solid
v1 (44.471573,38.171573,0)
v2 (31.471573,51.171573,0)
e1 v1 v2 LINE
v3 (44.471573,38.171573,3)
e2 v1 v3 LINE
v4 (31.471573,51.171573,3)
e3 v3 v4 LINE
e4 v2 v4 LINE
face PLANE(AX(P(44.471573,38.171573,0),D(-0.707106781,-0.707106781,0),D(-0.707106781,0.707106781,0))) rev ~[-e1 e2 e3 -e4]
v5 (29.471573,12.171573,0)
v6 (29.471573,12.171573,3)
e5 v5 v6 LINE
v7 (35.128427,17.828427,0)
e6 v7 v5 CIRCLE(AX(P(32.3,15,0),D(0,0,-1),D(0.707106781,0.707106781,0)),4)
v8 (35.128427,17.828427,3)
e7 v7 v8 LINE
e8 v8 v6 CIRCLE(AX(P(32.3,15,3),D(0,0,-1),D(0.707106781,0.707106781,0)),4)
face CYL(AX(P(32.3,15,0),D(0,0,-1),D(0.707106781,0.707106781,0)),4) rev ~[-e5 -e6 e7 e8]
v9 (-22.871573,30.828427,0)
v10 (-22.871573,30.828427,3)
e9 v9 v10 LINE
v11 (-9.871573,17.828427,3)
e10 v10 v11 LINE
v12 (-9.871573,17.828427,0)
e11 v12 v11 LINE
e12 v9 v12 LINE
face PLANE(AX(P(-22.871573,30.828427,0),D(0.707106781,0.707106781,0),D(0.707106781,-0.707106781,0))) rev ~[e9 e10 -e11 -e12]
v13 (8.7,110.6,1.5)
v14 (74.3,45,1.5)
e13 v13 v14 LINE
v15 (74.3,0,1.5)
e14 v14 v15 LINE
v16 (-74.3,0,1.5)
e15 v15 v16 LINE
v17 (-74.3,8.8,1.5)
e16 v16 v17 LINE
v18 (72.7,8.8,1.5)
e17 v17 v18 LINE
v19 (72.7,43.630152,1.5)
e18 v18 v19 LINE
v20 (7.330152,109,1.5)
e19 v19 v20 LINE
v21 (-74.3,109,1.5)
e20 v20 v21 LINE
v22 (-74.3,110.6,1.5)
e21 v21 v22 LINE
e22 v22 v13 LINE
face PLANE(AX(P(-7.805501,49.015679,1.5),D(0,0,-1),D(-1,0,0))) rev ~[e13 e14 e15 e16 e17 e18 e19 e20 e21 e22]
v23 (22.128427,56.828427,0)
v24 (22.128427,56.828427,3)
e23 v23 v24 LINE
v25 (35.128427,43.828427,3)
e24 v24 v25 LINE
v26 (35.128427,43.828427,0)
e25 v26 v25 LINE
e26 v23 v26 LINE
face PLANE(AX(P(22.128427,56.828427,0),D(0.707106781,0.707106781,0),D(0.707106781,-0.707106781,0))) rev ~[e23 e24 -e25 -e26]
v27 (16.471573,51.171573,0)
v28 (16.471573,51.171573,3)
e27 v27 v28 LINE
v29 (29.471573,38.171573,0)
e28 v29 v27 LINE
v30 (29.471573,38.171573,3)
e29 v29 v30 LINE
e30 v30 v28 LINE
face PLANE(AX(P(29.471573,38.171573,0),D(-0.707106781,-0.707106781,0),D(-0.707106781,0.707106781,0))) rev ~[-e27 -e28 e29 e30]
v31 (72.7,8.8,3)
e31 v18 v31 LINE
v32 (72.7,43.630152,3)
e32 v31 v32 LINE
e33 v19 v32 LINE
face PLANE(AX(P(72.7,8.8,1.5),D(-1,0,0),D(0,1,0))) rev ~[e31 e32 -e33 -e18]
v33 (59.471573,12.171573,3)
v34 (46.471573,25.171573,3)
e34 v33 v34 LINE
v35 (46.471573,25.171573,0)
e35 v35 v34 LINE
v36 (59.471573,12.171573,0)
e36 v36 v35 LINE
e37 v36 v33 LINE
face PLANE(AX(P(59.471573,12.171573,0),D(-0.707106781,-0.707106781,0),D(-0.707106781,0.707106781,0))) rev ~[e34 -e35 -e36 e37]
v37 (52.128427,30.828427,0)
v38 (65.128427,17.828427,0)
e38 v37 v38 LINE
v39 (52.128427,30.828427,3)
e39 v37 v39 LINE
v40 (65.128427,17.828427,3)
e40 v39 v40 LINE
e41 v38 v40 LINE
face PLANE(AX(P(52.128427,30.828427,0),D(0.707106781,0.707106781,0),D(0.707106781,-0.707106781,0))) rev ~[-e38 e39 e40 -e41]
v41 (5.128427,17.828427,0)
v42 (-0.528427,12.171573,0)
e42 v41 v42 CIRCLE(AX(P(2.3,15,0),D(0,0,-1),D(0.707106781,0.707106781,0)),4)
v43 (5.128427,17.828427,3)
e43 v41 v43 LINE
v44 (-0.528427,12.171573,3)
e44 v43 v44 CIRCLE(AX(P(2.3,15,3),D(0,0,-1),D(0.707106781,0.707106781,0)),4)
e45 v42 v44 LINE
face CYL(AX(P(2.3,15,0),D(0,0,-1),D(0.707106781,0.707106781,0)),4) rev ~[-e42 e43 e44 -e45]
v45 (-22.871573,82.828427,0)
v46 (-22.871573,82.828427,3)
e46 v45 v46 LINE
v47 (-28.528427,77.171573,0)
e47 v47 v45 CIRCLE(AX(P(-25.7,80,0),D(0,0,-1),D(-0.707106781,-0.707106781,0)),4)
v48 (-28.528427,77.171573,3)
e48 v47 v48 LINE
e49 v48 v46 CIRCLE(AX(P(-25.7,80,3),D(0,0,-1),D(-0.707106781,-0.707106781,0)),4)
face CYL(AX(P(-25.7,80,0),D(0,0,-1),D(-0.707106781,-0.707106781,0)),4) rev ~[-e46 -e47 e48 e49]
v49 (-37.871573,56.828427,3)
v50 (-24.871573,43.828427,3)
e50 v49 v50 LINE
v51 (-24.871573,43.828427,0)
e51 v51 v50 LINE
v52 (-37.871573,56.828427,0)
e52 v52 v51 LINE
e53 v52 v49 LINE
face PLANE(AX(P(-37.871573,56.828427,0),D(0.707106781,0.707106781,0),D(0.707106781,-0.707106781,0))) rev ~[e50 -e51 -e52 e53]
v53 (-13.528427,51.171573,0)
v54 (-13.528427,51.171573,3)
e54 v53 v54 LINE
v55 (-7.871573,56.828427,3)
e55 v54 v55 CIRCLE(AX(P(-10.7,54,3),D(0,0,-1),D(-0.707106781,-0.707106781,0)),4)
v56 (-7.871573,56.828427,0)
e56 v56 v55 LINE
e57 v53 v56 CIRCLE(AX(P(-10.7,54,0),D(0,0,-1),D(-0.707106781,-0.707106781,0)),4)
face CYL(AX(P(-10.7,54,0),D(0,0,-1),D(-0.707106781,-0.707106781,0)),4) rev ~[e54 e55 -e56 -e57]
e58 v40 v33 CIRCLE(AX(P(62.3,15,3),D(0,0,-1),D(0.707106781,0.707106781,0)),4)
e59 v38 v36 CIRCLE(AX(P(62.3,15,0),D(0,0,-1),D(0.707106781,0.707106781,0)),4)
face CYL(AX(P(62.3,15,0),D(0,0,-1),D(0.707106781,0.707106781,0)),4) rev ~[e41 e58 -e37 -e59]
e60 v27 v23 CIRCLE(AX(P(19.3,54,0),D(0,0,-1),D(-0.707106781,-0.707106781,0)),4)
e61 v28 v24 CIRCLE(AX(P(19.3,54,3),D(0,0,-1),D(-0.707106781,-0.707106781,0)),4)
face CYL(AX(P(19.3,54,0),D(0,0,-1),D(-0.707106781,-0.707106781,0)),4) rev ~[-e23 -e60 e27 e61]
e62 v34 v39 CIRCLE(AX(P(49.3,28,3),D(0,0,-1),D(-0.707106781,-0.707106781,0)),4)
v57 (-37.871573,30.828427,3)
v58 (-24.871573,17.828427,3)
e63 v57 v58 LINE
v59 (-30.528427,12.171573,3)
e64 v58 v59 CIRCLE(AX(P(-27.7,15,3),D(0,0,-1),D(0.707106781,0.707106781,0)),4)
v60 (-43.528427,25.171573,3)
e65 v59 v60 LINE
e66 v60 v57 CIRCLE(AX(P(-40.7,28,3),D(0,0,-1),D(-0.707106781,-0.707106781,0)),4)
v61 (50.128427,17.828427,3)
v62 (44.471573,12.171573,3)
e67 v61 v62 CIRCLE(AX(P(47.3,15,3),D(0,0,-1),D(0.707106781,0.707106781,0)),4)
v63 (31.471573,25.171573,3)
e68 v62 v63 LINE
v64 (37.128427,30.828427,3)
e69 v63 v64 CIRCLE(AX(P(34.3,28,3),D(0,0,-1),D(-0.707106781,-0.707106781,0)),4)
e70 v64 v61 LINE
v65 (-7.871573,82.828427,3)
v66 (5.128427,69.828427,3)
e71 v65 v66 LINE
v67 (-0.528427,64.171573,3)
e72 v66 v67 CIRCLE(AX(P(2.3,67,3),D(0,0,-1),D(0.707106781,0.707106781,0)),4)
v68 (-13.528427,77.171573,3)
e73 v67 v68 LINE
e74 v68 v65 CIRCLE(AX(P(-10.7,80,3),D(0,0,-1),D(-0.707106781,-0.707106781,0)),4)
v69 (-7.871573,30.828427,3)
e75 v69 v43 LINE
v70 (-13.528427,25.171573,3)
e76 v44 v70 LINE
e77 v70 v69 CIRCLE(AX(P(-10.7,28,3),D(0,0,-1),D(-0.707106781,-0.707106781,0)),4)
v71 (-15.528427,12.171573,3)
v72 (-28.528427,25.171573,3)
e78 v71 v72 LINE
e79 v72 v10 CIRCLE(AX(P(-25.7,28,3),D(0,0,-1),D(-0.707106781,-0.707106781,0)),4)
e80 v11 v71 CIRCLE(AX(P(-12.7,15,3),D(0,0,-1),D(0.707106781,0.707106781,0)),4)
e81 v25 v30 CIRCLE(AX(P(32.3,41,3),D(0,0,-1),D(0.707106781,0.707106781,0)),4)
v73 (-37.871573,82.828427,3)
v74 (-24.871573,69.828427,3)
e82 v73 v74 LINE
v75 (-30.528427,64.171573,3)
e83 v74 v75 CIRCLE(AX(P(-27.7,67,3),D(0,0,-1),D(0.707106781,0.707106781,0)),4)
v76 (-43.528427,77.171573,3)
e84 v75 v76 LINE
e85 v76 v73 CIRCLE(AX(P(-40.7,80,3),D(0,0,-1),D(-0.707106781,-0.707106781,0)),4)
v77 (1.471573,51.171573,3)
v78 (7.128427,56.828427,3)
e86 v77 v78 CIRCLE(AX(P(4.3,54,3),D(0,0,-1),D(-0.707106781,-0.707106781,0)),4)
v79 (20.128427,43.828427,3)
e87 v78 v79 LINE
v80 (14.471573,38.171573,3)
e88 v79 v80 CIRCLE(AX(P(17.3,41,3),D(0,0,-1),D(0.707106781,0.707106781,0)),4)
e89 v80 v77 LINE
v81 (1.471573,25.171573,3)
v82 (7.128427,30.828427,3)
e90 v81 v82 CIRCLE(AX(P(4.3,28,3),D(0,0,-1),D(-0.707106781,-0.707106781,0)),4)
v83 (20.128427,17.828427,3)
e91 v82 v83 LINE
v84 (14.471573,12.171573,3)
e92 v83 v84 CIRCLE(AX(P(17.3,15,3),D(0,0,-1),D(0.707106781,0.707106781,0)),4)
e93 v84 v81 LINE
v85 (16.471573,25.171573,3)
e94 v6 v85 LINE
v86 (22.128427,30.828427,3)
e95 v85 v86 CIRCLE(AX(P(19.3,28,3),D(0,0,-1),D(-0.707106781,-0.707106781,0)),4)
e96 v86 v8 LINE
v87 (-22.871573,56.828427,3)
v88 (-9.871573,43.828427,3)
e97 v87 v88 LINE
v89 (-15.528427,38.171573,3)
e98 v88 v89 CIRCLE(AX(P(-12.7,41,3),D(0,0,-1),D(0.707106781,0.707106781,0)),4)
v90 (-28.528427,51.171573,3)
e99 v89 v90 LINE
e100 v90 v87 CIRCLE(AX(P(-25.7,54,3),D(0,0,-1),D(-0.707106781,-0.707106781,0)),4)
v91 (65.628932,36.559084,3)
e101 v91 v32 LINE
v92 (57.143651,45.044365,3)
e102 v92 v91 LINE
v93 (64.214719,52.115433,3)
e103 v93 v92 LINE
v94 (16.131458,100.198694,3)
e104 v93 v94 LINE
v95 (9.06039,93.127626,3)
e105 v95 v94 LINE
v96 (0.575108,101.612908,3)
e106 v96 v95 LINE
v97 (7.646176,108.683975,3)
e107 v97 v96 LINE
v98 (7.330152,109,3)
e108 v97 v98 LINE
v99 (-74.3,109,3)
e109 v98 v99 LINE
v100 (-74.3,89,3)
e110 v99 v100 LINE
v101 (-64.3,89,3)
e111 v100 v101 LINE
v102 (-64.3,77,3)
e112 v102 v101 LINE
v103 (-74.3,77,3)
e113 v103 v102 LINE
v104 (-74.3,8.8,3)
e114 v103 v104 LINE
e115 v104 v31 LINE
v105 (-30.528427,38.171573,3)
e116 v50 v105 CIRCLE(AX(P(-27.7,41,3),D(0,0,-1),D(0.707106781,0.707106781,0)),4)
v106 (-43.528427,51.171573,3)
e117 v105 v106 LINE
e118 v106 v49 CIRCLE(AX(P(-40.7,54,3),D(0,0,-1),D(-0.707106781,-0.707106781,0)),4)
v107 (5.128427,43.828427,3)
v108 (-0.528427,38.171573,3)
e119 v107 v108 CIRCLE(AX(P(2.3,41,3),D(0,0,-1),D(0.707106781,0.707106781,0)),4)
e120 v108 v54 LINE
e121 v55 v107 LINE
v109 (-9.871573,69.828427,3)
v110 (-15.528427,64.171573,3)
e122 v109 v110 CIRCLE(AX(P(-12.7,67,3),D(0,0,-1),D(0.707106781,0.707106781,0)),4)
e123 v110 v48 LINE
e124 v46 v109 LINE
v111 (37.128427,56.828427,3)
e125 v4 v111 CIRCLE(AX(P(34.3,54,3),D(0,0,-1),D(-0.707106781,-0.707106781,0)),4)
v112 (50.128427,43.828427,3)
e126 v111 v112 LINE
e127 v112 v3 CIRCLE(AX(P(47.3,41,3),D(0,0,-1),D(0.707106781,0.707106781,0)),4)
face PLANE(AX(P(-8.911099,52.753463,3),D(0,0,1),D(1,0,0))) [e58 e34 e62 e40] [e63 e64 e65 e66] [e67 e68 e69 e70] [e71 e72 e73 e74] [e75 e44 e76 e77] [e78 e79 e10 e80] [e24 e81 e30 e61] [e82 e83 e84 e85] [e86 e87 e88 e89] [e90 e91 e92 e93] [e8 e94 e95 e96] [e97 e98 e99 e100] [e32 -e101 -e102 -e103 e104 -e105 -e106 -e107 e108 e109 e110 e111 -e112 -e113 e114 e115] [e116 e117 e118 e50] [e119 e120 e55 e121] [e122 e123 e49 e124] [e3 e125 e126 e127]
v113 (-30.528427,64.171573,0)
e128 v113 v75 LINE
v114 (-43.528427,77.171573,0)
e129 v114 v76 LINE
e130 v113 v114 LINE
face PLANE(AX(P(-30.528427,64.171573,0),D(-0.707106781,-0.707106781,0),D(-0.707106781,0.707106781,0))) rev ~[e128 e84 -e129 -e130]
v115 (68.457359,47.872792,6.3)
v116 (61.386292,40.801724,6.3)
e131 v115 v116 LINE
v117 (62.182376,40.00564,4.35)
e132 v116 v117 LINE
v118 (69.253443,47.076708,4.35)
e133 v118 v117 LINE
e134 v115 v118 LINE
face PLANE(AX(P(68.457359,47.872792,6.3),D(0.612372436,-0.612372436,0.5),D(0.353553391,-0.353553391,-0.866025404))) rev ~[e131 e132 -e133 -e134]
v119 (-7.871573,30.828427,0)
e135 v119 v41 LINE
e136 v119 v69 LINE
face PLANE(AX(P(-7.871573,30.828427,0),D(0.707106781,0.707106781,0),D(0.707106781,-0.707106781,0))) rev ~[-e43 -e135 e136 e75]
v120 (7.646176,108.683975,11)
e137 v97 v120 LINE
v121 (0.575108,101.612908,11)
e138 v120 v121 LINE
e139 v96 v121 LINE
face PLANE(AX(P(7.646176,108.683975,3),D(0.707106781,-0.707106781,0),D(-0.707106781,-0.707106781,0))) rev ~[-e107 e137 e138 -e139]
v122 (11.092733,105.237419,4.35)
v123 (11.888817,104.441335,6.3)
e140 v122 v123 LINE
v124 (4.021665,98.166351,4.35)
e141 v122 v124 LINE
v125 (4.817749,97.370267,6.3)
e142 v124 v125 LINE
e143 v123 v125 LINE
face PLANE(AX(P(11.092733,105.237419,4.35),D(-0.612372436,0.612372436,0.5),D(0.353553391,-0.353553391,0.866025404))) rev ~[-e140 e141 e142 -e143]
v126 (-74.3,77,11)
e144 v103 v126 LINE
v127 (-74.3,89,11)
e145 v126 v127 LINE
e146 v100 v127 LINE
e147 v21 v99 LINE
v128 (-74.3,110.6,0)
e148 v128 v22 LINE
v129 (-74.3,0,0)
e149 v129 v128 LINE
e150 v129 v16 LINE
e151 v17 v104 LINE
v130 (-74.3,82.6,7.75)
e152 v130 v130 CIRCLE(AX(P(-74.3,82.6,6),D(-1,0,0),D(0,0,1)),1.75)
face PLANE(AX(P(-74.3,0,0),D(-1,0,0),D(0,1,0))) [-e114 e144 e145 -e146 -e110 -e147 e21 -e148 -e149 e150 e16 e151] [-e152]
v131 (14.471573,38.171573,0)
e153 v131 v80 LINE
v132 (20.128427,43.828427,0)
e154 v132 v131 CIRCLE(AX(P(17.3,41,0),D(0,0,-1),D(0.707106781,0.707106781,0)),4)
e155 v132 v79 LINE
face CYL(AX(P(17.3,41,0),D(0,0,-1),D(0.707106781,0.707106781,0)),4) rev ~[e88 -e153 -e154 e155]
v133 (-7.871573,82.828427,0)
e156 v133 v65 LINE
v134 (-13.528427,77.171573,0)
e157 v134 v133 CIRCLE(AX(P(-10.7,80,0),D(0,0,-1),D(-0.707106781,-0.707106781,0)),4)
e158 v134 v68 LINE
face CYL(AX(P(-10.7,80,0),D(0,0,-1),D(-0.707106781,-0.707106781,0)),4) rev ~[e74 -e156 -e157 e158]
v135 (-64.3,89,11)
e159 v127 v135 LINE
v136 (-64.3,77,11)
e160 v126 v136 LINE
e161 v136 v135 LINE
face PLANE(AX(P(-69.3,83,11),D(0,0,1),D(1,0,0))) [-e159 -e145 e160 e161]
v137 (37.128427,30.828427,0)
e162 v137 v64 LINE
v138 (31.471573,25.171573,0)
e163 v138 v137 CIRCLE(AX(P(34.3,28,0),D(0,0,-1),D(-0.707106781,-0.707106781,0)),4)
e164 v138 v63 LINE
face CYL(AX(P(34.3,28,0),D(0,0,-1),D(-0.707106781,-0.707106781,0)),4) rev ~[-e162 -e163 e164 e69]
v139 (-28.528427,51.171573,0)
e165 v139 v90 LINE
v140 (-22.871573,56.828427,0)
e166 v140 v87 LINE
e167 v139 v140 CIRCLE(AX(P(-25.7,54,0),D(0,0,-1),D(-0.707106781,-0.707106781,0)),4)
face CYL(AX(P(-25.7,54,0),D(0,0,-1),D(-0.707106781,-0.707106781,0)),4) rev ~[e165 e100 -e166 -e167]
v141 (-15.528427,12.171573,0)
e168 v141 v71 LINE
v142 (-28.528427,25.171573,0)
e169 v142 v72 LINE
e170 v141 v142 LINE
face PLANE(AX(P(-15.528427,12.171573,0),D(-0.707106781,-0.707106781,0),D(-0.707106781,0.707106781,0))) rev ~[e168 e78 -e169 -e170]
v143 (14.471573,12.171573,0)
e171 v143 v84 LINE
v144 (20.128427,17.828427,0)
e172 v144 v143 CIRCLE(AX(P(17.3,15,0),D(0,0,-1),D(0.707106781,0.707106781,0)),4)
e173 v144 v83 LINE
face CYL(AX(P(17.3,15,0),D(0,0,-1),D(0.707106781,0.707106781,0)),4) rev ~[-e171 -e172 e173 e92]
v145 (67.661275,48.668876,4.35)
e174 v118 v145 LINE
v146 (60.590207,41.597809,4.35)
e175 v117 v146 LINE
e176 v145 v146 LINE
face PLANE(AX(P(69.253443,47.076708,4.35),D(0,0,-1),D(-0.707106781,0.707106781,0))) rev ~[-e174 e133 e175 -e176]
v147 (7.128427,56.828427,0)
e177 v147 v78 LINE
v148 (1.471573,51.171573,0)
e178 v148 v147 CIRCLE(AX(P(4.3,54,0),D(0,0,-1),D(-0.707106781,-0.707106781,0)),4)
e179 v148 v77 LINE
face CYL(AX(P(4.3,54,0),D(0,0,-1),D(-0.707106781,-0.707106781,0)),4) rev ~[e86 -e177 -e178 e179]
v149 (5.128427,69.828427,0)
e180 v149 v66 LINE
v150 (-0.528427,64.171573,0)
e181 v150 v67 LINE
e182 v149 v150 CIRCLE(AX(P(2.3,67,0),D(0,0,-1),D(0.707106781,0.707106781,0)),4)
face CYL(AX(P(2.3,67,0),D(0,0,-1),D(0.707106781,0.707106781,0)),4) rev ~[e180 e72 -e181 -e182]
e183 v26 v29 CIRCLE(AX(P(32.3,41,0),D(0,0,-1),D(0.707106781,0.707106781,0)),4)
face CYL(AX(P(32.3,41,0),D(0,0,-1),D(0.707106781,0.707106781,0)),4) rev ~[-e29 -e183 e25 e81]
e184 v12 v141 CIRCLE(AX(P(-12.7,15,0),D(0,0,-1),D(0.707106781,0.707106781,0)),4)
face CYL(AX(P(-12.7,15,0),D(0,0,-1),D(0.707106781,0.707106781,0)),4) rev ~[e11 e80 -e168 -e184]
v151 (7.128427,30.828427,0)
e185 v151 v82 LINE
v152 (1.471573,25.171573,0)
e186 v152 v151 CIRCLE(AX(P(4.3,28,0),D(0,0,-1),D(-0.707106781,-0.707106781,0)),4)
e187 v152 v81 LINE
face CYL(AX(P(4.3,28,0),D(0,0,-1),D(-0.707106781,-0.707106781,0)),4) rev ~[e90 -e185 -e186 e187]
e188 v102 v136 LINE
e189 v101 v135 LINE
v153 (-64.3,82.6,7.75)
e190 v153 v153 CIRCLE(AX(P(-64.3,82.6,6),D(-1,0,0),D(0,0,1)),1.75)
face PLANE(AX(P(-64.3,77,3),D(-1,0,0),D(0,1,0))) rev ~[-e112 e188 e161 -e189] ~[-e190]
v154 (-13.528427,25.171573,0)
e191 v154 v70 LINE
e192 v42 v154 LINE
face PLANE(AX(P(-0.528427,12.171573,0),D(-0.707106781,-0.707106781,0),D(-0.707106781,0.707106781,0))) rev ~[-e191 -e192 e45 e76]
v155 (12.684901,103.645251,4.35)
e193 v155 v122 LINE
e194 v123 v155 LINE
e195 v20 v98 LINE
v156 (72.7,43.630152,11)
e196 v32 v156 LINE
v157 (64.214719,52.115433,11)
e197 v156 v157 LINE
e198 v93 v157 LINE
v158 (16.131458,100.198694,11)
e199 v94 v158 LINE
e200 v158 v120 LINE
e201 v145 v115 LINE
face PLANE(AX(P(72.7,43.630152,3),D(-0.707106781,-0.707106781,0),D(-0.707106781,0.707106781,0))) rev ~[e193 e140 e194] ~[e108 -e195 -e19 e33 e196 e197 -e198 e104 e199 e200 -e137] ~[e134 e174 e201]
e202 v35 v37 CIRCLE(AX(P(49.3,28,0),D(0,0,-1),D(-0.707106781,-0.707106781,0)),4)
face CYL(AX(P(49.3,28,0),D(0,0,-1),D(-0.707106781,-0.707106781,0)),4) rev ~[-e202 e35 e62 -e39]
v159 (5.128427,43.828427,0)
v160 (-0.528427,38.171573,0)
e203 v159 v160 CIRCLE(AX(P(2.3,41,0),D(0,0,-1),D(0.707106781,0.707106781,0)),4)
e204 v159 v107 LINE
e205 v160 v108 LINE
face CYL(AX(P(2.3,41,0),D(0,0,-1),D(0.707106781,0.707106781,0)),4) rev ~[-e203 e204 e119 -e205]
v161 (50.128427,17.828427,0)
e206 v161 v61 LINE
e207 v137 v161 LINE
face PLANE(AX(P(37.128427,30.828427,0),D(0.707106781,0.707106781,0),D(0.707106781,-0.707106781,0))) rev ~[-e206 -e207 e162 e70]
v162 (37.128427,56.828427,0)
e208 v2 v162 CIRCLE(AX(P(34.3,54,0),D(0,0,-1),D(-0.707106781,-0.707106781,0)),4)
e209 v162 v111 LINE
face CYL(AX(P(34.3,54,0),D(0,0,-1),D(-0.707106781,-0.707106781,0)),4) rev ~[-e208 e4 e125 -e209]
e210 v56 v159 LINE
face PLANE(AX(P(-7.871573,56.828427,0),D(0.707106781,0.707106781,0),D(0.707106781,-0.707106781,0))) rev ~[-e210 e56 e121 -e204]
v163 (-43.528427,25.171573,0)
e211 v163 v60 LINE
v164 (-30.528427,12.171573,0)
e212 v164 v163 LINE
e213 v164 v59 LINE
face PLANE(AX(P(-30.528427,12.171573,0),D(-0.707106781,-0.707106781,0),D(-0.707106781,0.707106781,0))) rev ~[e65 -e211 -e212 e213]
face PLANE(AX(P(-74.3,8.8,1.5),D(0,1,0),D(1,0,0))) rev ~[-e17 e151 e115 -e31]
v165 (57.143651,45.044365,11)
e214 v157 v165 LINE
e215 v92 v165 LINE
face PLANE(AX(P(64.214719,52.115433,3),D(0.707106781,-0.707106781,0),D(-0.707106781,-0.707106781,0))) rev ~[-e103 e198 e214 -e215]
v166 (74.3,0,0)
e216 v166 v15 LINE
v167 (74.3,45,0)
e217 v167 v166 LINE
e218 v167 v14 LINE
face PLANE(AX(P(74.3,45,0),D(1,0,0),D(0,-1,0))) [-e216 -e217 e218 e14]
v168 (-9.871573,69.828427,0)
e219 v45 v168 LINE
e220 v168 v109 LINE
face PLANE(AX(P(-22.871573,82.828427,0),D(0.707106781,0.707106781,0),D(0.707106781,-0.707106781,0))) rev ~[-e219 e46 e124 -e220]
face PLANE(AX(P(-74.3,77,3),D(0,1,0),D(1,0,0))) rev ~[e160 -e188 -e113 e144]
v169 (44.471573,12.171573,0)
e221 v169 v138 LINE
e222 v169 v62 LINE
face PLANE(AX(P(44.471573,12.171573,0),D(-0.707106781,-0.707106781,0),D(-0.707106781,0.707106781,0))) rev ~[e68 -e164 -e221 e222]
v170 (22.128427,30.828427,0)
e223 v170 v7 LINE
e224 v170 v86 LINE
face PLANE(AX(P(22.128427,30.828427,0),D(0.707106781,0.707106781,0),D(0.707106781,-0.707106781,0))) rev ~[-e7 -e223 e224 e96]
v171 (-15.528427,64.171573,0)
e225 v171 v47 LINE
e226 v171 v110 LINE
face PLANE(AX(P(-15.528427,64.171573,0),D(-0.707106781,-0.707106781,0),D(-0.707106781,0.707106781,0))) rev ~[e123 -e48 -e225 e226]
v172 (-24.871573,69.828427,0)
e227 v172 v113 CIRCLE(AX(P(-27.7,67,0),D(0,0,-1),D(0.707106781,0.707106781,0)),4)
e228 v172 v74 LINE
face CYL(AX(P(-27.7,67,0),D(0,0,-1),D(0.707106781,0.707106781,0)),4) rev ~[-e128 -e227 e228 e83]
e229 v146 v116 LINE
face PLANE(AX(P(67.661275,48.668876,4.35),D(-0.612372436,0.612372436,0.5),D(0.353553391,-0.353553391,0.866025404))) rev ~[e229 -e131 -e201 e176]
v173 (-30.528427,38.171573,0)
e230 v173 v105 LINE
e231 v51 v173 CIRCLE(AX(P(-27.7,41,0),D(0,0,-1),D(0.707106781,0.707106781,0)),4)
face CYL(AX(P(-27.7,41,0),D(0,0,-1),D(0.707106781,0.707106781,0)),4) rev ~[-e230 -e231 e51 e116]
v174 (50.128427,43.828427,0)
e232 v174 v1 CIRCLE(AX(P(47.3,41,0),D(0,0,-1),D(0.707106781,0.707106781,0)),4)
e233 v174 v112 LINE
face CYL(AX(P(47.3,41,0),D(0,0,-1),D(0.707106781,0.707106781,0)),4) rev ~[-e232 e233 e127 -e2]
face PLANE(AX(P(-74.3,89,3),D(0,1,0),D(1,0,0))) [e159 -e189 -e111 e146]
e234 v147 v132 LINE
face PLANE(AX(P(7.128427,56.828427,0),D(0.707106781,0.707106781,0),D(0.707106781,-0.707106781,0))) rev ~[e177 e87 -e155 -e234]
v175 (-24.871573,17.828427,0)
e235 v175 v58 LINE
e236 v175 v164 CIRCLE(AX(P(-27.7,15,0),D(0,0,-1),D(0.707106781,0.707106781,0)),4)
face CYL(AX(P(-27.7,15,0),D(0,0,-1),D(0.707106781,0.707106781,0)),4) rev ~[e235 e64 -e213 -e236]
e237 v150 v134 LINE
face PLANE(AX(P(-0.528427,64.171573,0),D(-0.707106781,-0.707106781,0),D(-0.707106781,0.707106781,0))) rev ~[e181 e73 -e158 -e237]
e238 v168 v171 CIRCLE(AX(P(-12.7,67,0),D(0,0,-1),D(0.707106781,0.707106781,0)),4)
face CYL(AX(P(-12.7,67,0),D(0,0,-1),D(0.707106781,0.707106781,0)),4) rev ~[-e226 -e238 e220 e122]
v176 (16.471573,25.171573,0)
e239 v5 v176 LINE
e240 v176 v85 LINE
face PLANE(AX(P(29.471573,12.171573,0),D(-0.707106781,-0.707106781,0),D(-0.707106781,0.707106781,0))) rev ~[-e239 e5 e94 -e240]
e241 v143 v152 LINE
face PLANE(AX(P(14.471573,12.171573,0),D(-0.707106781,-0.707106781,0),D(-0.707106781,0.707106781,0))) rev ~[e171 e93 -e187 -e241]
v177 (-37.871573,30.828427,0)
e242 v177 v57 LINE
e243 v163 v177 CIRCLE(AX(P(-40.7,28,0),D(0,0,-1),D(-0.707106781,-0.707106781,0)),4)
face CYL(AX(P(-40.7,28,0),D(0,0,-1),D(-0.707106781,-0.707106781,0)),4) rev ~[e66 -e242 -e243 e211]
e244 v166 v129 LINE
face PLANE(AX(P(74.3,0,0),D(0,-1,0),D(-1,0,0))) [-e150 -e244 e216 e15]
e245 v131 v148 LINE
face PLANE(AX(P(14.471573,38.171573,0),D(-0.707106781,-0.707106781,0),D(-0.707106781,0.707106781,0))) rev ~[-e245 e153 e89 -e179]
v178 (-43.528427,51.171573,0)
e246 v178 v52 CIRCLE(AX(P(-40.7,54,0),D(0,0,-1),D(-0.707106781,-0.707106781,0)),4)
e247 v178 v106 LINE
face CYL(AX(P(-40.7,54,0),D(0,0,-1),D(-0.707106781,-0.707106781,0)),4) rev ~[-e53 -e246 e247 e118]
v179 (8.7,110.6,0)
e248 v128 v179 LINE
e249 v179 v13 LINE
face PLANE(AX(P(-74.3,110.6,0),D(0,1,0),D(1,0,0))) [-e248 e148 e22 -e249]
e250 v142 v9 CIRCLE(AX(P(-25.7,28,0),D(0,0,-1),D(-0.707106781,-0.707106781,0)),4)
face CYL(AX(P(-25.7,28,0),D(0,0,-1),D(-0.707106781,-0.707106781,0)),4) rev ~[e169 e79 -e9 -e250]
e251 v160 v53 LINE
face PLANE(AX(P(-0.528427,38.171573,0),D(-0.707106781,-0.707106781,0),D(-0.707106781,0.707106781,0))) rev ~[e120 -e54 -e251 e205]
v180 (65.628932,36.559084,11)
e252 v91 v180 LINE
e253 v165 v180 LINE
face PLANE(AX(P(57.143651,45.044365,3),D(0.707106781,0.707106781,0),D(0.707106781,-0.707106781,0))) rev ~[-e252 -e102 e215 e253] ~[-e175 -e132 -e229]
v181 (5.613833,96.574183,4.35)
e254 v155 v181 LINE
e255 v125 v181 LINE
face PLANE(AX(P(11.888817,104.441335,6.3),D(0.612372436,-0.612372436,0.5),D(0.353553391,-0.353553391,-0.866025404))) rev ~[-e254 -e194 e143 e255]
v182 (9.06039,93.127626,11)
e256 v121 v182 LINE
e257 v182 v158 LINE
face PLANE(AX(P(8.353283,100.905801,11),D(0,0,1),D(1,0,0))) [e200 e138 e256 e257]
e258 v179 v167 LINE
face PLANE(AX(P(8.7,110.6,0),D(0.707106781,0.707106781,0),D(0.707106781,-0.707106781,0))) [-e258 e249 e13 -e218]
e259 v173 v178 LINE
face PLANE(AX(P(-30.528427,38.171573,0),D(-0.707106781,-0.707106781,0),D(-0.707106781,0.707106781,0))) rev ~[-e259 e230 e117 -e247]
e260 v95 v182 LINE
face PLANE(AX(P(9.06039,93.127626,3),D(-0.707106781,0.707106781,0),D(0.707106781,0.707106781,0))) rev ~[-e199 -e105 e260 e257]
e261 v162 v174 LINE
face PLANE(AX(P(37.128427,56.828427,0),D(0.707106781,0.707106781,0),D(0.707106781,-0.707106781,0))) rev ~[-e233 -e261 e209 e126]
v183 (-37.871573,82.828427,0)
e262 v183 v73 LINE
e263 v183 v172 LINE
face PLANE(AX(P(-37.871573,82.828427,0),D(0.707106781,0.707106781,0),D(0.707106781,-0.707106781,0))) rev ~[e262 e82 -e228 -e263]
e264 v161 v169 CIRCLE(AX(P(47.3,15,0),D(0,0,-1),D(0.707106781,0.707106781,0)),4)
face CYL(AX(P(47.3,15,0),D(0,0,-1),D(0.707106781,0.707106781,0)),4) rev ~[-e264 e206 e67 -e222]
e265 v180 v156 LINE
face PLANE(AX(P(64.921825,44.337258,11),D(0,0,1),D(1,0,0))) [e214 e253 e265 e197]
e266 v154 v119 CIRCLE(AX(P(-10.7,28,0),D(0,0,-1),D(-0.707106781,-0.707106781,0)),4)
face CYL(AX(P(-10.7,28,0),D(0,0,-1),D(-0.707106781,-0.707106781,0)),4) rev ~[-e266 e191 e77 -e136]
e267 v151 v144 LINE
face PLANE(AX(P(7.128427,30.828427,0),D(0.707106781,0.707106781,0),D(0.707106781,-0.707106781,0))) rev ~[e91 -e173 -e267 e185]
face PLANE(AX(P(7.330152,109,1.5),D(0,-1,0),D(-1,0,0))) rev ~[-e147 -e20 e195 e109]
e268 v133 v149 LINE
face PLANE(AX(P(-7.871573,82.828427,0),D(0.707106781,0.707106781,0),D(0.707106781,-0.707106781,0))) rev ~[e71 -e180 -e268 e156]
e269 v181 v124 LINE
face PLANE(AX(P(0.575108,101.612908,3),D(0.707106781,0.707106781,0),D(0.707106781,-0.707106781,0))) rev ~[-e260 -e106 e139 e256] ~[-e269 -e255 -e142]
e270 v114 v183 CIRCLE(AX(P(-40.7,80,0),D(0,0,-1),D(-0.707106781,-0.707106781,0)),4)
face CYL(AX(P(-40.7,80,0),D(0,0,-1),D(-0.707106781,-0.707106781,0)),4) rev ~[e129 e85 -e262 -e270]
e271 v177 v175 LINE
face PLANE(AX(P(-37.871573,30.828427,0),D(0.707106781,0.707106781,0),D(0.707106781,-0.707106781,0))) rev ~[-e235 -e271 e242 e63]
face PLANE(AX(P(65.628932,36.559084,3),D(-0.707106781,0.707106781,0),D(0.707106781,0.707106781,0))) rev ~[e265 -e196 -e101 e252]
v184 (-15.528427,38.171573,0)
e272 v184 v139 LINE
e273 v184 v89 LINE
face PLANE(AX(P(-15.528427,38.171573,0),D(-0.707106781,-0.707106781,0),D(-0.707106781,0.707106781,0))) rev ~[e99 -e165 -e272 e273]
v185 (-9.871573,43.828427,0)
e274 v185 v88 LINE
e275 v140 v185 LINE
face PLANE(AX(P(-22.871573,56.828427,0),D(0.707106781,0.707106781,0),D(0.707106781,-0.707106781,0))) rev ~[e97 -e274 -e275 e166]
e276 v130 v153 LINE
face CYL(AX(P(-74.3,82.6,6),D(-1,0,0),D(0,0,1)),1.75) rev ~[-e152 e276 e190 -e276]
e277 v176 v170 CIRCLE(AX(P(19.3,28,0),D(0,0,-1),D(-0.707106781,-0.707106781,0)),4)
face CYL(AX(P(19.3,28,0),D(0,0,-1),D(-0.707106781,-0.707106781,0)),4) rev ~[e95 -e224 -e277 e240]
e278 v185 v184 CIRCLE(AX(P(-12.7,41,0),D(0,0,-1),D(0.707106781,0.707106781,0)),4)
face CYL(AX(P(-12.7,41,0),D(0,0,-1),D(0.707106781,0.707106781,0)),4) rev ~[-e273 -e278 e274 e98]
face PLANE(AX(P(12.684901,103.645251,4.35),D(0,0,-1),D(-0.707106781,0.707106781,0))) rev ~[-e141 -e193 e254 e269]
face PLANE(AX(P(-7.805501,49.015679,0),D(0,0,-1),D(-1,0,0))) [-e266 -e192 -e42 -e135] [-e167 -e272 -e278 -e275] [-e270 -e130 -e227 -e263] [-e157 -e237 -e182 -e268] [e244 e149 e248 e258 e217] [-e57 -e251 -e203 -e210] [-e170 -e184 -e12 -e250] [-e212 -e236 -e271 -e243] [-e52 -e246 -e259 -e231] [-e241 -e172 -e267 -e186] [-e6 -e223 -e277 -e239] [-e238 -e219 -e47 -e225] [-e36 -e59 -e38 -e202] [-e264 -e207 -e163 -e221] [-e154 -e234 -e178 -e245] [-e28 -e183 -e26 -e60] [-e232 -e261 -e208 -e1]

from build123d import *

# Parameters (mm, degrees)
SALIENTE_EXTRUIR1_DEPTH = 1.5
SALIENTE_EXTRUIR2_DEPTH = 1.5
VENTILACION_DEPTH       = 3
MATRIZL1_COUNT          = 7
MATRIZL1_PITCH          = 15
MATRIZL1_COUNT_DIR2     = 3
MATRIZL1_PITCH_DIR2     = 26
CROQUIS4_W              = 10
CROQUIS4_H              = 12
SALIENTE_EXTRUIR3_DEPTH = 8
FIX_SUP_REACH           = 150.6
CROQUIS5_R              = 1.75
SALIENTE_EXTRUIR4_DEPTH = 8
CORTAR_EXTRUIR4_DEPTH   = 10
MATRIZL2_COUNT          = 2
MATRIZL2_PITCH          = 80


with BuildPart() as part:
    # Croquis1 → Saliente-Extruir1 (new body)
    with BuildSketch(Plane.XY):
        Polygon((74.3, 0), (-74.3, 0), (-74.3, 110.6), (8.7, 110.6), (74.3, 45), align=None)
    extrude(amount=SALIENTE_EXTRUIR1_DEPTH)

    # Croquis2 → Saliente-Extruir2 (add)
    with BuildSketch(Plane.XY.offset(1.5)):
        Polygon((-74.3, 109), (-74.3, 8.8), (72.7, 8.8), (72.7, 43.630151519), (7.330151519, 109), align=None)
    extrude(amount=SALIENTE_EXTRUIR2_DEPTH)

    # Croquis3 → ventilacion (cut)
    with BuildSketch(Plane.XY):
        with BuildLine():
            Line((52.128427125, 30.828427125), (65.128427125, 17.828427125))
            ThreePointArc((65.128427125, 17.828427125), (65.128427125, 12.171572875), (59.471572875, 12.171572875))
            Line((59.471572875, 12.171572875), (46.471572875, 25.171572875))
            ThreePointArc((46.471572875, 25.171572875), (46.471572875, 30.828427125), (52.128427125, 30.828427125))
        make_face()
    ventilacion = extrude(amount=VENTILACION_DEPTH, mode=Mode.SUBTRACT)

    # MatrizL1: ventilacion 7 × 3, 5 skipped
    with Locations(*[(-i * MATRIZL1_PITCH, j * MATRIZL1_PITCH_DIR2, 0) for i in range(MATRIZL1_COUNT) for j in range(MATRIZL1_COUNT_DIR2) if (i, j) not in ((0, 0), (0, 1), (0, 2), (1, 2), (2, 2), (3, 2))]):
        add(ventilacion, mode=Mode.SUBTRACT)

    # Croquis4 → Saliente-Extruir3 (add)
    with BuildSketch(Plane.XY.offset(3)):
        with Locations((-69.3, 83)):
            Rectangle(CROQUIS4_W, CROQUIS4_H)
    extrude(amount=SALIENTE_EXTRUIR3_DEPTH)

    # Croquis5 → fix-sup (cut, up to next)
    with BuildSketch(Plane.ZY.offset(74.3), mode=Mode.PRIVATE) as fix_sup_sk1:
        with Locations((6, 82.6)):
            Circle(CROQUIS5_R)
    fix_sup_tool1 = extrude(fix_sup_sk1.sketch, amount=-FIX_SUP_REACH, mode=Mode.PRIVATE) & part.part
    add(fix_sup_tool1.solids().sort_by_distance((-74.3, 82.6, 6))[0], mode=Mode.SUBTRACT)

    # Croquis6 → Saliente-Extruir4 (add)
    with BuildSketch(Plane.XY.offset(3)):
        Polygon((72.7, 43.630151519), (64.214718626, 52.115432893), (57.143650814, 45.044365081), (65.628932188, 36.559083707), align=None)
    saliente_extruir4 = extrude(amount=SALIENTE_EXTRUIR4_DEPTH)

    # Croquis7 → Cortar-Extruir4 (cut)
    with BuildSketch(Plane(origin=(58.16507576, 58.16507576, 0), x_dir=(0, 0, -1), z_dir=(0.707106781, 0.707106781, 0))):
        Polygon((-4.35, -13.429653964), (-6.3, -14.555486989), (-4.35, -15.681320014), align=None)
    cortar_extruir4 = extrude(amount=-CORTAR_EXTRUIR4_DEPTH, mode=Mode.SUBTRACT)

    # MatrizL2: Saliente-Extruir4, Cortar-Extruir4 ×2
    with Locations(*[Vector(-0.707106781, 0.707106781, 0) * (i * MATRIZL2_PITCH) for i in range(1, MATRIZL2_COUNT)]):
        add(saliente_extruir4)
        add(cortar_extruir4, mode=Mode.SUBTRACT)


solid = part.part
